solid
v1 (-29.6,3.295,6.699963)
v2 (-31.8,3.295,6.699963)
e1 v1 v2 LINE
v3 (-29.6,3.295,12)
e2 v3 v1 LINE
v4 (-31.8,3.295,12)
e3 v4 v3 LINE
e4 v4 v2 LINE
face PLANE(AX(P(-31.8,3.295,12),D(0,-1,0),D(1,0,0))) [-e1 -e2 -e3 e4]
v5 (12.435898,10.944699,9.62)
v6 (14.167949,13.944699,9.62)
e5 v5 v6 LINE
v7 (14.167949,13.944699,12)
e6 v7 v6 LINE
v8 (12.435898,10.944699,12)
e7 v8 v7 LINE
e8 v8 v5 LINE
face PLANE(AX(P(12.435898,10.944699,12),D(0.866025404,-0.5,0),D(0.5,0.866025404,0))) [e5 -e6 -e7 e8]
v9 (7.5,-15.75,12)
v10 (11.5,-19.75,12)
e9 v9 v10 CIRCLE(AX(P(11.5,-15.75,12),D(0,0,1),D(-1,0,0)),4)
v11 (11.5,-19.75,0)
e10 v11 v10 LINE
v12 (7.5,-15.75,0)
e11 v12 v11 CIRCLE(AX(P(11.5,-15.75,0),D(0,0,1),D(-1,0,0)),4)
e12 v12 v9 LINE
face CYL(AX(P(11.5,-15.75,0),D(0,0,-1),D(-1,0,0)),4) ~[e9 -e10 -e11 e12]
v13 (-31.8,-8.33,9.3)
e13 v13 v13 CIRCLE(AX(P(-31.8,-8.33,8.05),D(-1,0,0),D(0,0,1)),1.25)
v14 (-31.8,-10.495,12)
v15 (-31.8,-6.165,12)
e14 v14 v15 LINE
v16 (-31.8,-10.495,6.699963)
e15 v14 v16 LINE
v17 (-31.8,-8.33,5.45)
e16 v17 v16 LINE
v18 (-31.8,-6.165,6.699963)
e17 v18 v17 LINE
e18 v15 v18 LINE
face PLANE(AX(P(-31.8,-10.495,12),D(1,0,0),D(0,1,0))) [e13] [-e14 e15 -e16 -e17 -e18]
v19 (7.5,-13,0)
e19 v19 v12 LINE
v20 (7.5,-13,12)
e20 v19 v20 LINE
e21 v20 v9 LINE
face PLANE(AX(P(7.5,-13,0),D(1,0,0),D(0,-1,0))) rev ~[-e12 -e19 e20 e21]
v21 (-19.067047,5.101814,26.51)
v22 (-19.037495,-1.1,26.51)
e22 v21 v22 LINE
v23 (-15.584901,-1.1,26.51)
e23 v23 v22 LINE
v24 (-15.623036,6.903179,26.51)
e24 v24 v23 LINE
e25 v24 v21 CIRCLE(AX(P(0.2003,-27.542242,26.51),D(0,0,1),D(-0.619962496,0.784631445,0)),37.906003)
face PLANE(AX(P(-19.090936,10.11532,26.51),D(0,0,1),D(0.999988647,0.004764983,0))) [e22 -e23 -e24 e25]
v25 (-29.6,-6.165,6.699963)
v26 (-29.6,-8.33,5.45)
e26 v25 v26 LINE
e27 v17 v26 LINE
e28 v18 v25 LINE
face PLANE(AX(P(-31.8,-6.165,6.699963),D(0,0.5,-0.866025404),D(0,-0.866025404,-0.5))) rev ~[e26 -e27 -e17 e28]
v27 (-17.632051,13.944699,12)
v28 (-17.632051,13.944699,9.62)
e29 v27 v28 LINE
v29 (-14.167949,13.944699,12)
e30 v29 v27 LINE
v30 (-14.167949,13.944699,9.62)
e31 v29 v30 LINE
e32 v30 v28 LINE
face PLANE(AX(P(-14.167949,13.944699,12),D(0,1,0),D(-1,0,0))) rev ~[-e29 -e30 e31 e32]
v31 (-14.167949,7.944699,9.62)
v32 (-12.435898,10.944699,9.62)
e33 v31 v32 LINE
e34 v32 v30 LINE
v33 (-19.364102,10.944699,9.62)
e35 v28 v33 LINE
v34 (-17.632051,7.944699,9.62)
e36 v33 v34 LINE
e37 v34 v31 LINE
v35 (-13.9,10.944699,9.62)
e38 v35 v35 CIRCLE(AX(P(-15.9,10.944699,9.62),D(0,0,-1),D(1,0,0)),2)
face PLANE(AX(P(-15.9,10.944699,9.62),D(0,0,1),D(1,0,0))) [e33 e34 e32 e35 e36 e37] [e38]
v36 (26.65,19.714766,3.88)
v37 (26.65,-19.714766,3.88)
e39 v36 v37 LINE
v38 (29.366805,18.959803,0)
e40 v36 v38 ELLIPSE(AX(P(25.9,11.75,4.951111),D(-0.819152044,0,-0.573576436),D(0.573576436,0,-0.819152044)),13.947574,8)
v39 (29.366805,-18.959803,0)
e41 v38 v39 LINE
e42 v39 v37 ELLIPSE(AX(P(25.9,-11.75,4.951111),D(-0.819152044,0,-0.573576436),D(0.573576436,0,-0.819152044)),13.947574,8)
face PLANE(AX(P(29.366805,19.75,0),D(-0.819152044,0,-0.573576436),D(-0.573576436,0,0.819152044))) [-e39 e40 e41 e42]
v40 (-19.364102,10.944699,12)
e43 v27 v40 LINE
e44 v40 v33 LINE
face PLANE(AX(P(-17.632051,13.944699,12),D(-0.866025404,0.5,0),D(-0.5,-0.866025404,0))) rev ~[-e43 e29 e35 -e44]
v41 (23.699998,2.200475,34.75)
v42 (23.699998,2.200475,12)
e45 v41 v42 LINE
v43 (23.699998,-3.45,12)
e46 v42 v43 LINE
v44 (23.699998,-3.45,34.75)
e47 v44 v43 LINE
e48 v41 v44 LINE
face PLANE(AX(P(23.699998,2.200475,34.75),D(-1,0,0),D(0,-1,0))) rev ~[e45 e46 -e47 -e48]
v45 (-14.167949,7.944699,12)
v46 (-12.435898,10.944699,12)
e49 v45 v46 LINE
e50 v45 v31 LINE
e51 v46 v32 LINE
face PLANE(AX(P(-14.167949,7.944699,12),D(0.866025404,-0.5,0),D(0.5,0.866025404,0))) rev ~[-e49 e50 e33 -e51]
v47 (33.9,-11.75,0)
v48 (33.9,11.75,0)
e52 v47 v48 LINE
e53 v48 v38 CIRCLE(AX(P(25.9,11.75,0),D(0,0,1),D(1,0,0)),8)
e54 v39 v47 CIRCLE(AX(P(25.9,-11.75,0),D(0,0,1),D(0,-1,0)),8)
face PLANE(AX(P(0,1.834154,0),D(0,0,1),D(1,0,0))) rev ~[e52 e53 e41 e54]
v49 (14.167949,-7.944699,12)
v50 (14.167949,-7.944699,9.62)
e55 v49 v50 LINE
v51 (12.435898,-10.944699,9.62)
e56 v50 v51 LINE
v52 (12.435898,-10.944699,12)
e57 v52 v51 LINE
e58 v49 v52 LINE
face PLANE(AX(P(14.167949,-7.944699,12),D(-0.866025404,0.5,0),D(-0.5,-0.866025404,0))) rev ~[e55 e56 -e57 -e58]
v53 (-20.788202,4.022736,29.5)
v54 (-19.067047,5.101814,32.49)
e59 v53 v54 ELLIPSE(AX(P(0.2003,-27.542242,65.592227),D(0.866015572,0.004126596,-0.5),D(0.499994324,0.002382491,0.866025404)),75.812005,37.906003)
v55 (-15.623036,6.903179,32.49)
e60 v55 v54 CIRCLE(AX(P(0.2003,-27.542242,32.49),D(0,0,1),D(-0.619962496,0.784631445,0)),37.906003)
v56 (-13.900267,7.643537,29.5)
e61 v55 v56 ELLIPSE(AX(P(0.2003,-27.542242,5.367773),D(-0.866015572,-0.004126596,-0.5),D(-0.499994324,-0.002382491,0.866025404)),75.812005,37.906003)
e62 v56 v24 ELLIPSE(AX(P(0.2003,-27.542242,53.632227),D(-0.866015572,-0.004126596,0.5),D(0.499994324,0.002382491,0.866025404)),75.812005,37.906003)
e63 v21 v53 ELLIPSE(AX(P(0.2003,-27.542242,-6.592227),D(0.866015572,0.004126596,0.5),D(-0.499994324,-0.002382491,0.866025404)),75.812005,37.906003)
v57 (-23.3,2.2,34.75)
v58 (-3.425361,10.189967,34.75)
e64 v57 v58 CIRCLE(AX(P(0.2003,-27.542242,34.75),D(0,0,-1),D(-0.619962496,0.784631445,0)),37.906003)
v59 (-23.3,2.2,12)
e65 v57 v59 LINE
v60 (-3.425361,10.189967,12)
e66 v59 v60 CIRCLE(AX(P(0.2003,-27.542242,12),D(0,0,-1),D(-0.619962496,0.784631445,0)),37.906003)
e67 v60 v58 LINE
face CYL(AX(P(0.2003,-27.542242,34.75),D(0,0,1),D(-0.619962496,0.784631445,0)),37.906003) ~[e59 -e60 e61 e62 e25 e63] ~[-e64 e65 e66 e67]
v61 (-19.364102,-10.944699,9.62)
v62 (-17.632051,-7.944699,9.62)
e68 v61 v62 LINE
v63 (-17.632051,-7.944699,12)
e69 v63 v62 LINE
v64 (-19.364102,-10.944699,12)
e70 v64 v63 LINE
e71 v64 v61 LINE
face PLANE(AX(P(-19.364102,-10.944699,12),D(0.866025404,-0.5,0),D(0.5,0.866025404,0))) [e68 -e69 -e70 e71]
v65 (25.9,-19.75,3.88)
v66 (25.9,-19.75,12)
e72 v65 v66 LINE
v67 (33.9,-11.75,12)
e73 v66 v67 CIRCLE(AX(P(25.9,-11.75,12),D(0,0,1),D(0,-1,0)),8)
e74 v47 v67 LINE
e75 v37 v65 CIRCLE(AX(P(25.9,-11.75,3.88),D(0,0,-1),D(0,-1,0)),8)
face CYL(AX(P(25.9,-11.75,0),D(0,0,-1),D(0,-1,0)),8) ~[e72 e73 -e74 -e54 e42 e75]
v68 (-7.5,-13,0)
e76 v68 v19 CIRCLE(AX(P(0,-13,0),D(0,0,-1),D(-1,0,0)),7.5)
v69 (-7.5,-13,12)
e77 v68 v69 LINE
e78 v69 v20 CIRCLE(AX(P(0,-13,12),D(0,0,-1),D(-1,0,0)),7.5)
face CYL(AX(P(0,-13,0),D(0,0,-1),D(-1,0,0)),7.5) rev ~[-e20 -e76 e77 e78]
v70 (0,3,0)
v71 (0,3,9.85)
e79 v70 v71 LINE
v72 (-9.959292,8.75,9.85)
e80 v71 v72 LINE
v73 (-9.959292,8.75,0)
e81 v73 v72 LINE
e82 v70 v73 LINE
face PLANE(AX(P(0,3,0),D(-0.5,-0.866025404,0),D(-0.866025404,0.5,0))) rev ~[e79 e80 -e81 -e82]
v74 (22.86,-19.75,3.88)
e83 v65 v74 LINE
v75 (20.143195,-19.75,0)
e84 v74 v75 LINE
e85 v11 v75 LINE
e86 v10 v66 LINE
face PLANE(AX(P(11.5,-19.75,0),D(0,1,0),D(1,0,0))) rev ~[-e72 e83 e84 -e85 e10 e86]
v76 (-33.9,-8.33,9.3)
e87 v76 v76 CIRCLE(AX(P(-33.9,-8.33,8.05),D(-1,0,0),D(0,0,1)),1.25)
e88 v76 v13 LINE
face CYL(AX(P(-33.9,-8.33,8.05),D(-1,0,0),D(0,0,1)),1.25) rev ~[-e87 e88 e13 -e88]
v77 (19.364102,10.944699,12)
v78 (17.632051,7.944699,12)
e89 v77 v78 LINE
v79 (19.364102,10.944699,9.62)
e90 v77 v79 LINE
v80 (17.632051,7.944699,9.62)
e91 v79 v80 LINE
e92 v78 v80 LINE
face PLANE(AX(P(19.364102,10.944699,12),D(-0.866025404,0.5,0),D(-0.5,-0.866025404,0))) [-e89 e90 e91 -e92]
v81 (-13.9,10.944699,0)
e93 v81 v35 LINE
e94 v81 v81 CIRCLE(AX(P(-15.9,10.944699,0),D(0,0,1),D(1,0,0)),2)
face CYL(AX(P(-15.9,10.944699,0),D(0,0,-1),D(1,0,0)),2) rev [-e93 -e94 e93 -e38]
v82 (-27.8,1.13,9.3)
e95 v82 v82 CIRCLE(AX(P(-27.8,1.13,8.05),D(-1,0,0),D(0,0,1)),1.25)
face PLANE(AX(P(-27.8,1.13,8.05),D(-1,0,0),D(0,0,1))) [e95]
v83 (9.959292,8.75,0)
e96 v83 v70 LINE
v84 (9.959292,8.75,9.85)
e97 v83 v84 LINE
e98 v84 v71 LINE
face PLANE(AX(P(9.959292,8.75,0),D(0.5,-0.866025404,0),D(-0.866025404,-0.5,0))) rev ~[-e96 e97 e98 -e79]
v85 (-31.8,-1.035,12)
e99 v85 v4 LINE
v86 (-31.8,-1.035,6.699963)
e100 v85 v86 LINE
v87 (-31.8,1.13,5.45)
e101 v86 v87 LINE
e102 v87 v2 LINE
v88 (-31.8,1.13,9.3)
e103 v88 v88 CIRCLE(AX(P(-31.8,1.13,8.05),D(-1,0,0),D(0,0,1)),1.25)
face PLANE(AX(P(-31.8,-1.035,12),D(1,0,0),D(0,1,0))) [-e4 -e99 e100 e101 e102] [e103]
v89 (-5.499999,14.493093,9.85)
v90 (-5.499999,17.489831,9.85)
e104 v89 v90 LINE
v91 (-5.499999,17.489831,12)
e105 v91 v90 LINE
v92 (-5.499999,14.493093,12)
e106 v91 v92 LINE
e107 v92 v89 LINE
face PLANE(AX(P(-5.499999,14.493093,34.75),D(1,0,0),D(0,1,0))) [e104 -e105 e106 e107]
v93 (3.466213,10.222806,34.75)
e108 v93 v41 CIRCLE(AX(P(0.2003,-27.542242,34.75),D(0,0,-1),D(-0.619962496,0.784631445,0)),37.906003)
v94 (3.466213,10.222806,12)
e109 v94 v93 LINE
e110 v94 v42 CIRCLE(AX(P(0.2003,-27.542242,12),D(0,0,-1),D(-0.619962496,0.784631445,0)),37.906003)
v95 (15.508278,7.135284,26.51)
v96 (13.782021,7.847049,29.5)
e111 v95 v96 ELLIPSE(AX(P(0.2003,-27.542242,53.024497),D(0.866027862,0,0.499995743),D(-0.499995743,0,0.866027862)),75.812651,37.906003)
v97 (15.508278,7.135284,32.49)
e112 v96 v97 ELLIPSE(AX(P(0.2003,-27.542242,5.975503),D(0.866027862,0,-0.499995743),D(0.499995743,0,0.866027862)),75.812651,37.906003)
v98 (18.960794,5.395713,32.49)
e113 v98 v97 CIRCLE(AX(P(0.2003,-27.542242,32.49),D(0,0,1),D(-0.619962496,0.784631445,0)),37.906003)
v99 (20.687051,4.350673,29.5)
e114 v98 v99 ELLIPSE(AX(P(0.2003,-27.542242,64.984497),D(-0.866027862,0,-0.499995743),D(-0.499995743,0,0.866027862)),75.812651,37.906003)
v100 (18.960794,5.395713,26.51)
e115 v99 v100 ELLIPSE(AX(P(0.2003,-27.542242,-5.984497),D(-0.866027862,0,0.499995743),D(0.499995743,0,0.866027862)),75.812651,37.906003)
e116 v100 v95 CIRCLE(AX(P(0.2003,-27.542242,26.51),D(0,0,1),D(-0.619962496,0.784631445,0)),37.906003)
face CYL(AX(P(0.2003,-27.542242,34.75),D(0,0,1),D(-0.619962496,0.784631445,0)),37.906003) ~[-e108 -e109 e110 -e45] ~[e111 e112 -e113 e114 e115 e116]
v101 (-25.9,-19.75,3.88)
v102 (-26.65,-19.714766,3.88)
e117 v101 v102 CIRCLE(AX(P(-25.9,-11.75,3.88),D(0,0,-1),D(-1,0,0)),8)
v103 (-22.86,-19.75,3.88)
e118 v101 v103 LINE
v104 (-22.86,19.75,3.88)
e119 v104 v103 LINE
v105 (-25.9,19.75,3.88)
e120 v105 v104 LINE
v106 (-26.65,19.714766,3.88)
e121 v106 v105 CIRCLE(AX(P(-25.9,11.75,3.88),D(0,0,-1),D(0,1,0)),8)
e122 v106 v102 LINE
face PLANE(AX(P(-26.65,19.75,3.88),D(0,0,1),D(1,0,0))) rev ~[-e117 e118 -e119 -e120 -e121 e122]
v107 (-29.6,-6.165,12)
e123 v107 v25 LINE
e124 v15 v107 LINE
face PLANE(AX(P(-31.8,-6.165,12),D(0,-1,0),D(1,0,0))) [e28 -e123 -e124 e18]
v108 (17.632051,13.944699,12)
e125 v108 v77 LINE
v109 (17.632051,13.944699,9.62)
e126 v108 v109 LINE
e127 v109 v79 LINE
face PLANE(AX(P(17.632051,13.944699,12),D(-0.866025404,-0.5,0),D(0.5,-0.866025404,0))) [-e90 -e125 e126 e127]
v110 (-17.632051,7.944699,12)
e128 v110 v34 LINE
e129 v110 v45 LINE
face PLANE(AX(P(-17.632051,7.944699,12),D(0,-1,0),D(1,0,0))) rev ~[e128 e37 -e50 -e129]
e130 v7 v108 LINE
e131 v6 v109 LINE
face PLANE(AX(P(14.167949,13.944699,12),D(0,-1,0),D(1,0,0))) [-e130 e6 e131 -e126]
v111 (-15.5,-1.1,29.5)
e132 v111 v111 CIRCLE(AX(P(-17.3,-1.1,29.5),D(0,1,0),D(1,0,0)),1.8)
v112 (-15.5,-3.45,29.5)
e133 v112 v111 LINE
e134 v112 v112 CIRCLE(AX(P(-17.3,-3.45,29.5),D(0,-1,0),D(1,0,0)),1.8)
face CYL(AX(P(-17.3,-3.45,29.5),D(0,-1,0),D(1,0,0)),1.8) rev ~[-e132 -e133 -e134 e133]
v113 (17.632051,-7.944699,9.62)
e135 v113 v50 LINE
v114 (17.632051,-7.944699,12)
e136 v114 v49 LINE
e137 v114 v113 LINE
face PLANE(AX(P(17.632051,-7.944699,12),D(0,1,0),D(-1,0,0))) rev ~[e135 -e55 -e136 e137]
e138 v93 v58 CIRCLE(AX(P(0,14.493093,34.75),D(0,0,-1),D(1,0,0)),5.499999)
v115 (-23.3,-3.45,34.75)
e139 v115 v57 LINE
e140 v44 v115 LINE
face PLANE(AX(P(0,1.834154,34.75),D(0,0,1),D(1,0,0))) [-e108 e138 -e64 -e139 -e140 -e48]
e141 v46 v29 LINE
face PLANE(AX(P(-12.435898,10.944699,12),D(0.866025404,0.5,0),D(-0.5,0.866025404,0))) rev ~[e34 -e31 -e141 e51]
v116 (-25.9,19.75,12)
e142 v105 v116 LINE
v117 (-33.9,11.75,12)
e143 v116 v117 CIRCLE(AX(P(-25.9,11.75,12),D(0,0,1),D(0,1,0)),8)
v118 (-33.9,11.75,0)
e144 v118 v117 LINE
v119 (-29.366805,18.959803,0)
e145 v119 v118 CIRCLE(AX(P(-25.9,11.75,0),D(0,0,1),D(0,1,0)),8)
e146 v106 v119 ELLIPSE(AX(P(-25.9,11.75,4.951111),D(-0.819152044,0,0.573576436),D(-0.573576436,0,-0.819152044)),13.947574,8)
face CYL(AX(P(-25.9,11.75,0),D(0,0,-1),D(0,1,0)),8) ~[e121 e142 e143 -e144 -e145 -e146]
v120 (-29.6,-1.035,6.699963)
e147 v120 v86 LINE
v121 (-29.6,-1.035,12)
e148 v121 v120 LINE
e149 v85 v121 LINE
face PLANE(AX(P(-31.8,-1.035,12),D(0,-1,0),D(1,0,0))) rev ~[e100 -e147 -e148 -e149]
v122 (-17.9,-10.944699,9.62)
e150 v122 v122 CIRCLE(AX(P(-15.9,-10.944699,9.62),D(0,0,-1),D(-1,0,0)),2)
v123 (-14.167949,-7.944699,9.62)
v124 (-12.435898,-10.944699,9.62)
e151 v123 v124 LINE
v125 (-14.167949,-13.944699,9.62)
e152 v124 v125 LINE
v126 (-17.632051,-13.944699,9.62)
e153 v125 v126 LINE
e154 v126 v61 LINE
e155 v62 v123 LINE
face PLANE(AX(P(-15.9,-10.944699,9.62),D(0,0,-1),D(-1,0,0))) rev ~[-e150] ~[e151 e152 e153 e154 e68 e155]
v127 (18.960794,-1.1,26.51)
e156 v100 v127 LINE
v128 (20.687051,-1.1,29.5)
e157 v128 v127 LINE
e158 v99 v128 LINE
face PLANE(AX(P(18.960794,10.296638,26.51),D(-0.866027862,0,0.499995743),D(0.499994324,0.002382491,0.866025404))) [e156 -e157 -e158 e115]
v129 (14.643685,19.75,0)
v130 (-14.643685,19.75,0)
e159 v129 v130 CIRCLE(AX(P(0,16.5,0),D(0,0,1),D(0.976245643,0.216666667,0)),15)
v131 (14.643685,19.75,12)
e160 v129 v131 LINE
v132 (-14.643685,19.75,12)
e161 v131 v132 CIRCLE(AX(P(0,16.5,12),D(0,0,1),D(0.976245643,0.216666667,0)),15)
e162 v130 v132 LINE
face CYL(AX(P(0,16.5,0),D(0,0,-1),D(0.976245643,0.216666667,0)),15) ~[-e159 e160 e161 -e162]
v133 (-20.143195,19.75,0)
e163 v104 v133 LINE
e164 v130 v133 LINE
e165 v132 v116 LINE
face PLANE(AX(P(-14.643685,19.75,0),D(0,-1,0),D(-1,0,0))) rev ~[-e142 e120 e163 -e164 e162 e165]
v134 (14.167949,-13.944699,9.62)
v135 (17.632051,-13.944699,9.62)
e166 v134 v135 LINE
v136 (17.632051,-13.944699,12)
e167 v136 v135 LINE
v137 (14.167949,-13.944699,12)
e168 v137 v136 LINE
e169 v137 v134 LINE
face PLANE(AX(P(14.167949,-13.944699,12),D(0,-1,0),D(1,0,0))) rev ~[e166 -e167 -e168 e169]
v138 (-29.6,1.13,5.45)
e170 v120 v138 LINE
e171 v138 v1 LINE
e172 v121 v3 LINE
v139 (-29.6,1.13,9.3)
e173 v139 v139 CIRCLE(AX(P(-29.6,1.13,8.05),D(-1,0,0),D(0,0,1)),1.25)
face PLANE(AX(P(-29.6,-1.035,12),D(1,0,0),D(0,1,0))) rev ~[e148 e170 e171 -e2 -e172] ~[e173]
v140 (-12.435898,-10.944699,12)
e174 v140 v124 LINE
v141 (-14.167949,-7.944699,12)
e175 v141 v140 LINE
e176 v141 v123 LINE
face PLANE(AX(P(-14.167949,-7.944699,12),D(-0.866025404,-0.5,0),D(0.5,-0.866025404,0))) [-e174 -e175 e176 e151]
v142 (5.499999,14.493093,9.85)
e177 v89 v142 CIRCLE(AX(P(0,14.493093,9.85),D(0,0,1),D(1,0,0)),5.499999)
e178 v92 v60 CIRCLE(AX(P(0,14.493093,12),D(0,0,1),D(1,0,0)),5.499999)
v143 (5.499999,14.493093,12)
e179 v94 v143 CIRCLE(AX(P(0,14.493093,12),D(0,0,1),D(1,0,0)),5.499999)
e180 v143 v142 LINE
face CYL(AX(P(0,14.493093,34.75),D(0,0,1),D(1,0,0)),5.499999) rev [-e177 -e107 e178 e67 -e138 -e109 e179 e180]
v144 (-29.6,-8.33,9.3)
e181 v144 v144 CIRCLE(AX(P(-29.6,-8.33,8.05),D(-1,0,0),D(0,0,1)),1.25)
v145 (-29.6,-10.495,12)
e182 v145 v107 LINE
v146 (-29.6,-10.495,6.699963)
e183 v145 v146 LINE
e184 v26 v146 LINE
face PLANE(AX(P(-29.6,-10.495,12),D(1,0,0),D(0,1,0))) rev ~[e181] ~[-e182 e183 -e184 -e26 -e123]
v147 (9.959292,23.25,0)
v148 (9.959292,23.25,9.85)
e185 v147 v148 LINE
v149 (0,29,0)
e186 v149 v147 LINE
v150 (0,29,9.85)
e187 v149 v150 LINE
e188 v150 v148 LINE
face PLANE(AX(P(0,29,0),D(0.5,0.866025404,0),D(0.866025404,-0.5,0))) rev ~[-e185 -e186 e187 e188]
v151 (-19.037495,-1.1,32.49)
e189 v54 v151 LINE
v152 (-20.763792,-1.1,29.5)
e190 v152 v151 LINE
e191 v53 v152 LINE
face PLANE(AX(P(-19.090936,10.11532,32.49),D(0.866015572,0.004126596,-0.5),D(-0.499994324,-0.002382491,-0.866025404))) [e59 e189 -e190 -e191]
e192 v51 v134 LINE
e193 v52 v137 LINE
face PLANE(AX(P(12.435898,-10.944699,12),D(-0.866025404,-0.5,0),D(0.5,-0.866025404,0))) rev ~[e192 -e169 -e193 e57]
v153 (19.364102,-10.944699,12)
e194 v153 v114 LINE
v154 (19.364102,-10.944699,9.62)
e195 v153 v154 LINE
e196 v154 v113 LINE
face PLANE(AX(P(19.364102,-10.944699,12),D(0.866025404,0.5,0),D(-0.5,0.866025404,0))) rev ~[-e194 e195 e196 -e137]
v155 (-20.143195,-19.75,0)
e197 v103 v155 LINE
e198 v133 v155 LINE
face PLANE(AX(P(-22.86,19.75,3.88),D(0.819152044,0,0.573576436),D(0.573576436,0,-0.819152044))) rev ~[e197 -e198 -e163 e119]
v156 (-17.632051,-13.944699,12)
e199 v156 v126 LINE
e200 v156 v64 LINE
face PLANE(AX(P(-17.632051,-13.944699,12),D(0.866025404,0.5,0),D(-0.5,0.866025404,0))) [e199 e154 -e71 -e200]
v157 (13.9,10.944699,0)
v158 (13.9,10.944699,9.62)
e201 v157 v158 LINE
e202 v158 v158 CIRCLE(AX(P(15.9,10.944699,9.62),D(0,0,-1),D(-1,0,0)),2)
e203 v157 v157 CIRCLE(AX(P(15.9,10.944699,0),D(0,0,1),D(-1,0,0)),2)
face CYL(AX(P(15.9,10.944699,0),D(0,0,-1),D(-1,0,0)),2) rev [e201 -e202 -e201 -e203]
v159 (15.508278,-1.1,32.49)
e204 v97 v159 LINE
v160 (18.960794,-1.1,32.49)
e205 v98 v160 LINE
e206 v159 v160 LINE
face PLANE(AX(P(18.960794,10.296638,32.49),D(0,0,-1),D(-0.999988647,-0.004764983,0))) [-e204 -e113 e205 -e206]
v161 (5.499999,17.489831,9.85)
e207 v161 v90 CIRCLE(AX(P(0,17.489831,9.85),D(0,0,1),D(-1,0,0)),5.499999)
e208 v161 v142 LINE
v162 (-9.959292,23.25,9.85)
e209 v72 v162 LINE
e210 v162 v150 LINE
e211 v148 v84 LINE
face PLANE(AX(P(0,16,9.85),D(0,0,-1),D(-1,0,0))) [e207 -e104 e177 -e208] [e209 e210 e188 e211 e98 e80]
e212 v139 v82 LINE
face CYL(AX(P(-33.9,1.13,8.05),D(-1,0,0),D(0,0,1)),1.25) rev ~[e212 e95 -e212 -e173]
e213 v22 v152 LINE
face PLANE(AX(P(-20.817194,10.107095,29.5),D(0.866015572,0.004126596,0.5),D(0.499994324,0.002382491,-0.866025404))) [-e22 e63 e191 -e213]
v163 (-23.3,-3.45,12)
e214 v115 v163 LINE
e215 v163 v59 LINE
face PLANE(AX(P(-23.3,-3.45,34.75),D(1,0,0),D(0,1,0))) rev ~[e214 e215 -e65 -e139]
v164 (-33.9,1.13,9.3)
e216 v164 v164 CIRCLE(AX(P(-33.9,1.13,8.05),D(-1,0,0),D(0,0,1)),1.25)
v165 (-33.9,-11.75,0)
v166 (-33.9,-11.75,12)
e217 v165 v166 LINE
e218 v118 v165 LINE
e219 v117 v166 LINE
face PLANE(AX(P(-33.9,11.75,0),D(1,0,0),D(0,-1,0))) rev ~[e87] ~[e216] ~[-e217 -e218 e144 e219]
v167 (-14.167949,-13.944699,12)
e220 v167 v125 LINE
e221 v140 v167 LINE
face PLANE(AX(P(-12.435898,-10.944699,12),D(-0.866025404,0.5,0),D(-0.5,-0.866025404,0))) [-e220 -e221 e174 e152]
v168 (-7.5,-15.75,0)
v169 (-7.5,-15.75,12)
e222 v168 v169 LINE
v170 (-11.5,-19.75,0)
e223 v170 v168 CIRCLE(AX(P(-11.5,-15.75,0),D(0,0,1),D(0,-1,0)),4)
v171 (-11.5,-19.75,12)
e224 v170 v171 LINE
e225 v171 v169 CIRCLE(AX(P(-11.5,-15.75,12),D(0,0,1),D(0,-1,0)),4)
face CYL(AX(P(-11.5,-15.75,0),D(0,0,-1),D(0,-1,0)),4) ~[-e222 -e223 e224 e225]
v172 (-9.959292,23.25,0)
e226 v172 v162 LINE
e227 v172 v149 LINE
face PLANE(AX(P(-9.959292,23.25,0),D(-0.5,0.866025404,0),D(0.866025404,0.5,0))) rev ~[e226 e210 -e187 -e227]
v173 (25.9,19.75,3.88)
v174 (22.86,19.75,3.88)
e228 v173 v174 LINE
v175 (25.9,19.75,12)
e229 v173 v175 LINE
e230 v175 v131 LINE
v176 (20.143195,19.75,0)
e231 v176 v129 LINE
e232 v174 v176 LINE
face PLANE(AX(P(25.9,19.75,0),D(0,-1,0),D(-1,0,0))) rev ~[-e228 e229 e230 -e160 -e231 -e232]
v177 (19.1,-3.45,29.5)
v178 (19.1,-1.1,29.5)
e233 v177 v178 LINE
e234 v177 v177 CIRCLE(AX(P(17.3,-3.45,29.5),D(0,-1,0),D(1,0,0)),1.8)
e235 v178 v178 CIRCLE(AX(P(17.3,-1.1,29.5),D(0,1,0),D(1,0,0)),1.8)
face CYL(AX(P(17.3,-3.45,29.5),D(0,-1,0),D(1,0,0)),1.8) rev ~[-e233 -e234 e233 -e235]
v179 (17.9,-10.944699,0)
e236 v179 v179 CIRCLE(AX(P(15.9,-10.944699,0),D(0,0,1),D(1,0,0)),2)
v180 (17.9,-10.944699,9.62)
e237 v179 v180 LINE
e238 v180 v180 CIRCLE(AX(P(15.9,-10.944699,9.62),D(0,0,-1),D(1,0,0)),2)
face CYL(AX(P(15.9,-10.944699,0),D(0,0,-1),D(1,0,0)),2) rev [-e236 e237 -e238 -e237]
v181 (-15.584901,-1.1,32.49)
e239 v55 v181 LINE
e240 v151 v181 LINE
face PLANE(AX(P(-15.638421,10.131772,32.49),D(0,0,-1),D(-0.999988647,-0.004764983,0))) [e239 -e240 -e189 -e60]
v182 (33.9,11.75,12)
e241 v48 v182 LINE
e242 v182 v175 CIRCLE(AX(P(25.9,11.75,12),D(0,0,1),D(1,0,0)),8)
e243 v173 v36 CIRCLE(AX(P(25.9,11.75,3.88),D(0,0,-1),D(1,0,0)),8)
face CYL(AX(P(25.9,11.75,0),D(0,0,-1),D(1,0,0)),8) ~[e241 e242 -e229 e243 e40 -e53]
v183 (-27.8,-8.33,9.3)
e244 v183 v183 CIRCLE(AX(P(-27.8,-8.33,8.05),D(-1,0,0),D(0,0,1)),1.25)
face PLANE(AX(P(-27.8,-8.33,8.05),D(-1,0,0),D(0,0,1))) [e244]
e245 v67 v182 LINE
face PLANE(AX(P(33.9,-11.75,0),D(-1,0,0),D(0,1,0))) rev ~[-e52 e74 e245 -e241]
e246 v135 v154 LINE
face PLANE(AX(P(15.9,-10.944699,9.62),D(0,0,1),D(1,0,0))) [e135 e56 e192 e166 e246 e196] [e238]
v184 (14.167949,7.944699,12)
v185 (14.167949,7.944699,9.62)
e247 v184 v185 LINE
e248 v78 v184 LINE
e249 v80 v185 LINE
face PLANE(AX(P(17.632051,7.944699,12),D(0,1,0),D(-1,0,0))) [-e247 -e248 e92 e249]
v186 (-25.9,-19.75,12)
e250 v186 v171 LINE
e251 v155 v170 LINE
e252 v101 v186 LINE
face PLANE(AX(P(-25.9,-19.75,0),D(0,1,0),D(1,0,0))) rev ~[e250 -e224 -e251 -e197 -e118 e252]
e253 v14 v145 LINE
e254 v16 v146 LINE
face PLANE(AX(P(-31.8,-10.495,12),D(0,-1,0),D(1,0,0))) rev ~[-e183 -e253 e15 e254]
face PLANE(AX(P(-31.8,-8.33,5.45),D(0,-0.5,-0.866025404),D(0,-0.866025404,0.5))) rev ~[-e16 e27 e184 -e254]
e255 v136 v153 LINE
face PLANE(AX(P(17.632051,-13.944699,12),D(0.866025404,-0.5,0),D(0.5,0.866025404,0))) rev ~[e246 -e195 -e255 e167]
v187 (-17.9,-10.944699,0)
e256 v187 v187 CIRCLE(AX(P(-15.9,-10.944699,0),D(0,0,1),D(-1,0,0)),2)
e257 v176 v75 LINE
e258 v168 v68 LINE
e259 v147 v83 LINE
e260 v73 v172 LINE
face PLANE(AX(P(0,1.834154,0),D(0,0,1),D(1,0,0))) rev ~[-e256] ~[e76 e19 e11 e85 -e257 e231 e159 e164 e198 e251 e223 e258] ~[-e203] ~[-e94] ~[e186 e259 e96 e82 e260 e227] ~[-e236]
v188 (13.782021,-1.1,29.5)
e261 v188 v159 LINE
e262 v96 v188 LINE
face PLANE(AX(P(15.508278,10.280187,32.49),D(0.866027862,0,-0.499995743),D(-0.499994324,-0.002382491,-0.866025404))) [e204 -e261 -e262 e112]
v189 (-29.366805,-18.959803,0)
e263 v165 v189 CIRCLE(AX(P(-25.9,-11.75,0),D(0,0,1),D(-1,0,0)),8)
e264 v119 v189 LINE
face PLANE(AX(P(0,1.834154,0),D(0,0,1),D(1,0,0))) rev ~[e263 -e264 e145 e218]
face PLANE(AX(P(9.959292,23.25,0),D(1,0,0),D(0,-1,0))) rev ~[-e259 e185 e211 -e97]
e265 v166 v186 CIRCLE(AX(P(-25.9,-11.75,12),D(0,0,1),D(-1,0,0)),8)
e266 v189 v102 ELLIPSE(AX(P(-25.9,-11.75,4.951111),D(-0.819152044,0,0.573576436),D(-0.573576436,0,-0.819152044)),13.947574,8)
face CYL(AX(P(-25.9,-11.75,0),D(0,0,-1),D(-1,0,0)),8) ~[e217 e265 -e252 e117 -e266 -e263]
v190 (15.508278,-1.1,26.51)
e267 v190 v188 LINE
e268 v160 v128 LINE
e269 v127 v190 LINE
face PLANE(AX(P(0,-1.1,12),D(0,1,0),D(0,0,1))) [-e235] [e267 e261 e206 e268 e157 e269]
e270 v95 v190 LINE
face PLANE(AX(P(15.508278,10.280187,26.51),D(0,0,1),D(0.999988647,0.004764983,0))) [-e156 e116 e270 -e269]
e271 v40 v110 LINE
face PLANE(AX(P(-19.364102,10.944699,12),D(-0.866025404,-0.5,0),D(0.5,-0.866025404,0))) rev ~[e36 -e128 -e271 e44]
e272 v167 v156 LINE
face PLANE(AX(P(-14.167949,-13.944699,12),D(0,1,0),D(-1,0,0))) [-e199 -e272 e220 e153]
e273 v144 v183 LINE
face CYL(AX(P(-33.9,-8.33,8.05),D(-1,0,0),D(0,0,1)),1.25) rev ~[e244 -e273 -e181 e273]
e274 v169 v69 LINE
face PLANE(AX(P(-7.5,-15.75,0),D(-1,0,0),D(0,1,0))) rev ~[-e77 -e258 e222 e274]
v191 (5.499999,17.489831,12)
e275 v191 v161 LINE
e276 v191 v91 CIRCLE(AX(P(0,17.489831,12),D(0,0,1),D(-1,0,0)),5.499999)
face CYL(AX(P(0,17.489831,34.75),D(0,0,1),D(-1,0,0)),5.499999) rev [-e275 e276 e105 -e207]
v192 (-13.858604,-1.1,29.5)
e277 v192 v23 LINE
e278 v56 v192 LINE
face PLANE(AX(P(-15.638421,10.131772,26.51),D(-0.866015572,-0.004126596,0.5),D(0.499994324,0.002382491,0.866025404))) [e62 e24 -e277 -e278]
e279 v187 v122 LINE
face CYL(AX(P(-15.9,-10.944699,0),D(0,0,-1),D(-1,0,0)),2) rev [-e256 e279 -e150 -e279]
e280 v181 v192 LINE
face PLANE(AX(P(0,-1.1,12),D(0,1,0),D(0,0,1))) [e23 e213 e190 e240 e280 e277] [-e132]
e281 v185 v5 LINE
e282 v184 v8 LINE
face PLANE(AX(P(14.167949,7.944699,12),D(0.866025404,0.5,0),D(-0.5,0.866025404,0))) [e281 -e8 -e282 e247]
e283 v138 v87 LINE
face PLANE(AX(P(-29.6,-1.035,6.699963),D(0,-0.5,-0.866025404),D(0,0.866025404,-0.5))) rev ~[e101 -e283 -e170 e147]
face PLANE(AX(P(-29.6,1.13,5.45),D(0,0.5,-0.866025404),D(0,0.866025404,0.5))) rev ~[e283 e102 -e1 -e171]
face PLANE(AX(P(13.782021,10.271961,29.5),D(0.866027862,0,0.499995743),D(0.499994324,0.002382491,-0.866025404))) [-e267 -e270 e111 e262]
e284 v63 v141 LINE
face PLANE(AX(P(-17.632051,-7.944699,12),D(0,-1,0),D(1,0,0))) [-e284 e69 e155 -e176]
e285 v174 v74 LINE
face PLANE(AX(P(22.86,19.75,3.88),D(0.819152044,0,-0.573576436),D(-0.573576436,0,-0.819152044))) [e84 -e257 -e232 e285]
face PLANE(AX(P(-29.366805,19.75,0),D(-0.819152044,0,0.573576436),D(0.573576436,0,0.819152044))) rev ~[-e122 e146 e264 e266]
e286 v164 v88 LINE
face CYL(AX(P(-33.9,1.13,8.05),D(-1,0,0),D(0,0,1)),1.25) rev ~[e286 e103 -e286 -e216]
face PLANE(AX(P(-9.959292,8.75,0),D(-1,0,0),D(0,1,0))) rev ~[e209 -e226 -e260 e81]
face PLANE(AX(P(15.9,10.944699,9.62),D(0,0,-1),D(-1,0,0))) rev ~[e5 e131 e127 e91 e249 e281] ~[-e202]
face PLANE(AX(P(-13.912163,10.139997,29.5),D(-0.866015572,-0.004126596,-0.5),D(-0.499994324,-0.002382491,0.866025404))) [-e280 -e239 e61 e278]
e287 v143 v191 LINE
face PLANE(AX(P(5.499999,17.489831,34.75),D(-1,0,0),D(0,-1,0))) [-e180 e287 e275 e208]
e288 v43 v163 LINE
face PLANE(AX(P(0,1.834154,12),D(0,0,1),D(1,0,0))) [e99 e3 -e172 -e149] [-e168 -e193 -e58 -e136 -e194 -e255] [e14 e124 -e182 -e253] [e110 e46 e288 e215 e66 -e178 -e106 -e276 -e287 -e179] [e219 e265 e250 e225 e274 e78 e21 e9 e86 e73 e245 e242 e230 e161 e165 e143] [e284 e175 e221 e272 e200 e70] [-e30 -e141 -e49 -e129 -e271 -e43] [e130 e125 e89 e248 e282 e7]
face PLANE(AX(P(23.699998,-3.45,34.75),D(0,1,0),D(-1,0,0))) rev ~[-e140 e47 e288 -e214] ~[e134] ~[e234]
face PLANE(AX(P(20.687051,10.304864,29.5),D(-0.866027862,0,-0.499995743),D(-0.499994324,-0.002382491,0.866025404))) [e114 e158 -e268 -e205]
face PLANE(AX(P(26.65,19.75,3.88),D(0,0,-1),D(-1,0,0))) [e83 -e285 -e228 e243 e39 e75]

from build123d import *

# Parameters (mm, degrees)
SKETCH1_R               = 2
BOSS_EXTRUDE4_DEPTH     = 34.75
SKETCH5_R               = 2
CUT_EXTRUDE2_DEPTH      = 22.75
CUT_EXTRUDE3_REACH      = 59.871
CUT_EXTRUDE4_DEPTH      = 63.586120666
CUT_EXTRUDE5_REACH      = 61.819
CUT_EXTRUDE5_END_RADIUS = 37.906002519
SKETCH10_R              = 1.8
CUT_EXTRUDE6_REACH      = 59.074
SKETCH11_RX             = 1.8
SKETCH11_RY             = 1.799979565
CUT_EXTRUDE7_REACH      = 59.075
SKETCH11_4_RX           = 1.8
SKETCH11_4_RY           = 1.799979565
CUT_EXTRUDE8_DEPTH      = 9.85
SKETCH15_R              = 2
CUT_EXTRUDE9_DEPTH      = 2.38
SKETCH16_R              = 1.25
CUT_EXTRUDE10_DEPTH     = 6.1
SKETCH17_W              = 2.2
SKETCH17_H              = 4.33
CUT_EXTRUDE11_DEPTH     = 6.55
BOSS_EXTRUDE5_DEPTH     = 2.2
BOSS_EXTRUDE6_DEPTH     = 2.2


with BuildPart() as part:
    # Sketch1 → Boss-Extrude4 (new body)
    with BuildSketch(Plane.XY):
        with BuildLine():
            Line((-25.9, -19.75), (-11.5, -19.75))
            ThreePointArc((-11.5, -19.75), (-8.671572875, -18.578427125), (-7.5, -15.75))
            Line((-7.5, -15.75), (-7.5, -13))
            ThreePointArc((-7.5, -13), (0, -5.5), (7.5, -13))
            Line((7.5, -13), (7.5, -15.75))
            ThreePointArc((7.5, -15.75), (8.671572875, -18.578427125), (11.5, -19.75))
            Line((11.5, -19.75), (25.9, -19.75))
            ThreePointArc((25.9, -19.75), (31.556854249, -17.406854249), (33.9, -11.75))
            Line((33.9, -11.75), (33.9, 11.75))
            ThreePointArc((33.9, 11.75), (31.556854249, 17.406854249), (25.9, 19.75))
            Line((25.9, 19.75), (14.643684646, 19.75))
            ThreePointArc((14.643684646, 19.75), (0, 31.5), (-14.643684646, 19.75))
            Line((-14.643684646, 19.75), (-25.9, 19.75))
            ThreePointArc((-25.9, 19.75), (-31.556854249, 17.406854249), (-33.9, 11.75))
            Line((-33.9, 11.75), (-33.9, -11.75))
            ThreePointArc((-33.9, -11.75), (-31.556854249, -17.406854249), (-25.9, -19.75))
        make_face()
        with Locations((-15.9, 10.944699181)):
            Circle(SKETCH1_R, mode=Mode.SUBTRACT)
        with Locations(Location((-15.9, -10.944699181, 0), (0, 0, 180))):
            Circle(SKETCH1_R, mode=Mode.SUBTRACT)
        with Locations((15.9, -10.944699181)):
            Circle(SKETCH1_R, mode=Mode.SUBTRACT)
        with Locations(Location((15.9, 10.944699181, 0), (0, 0, 180))):
            Circle(SKETCH1_R, mode=Mode.SUBTRACT)
    extrude(amount=BOSS_EXTRUDE4_DEPTH)

    # Sketch5 → Cut-Extrude2 (cut)
    with BuildSketch(Plane.XY.offset(34.75)):
        with BuildLine():
            Line((33.9, -11.75), (33.9, 11.75))
            ThreePointArc((33.9, 11.75), (31.556854249, 17.406854249), (25.9, 19.75))
            Line((25.9, 19.75), (14.643684646, 19.75))
            ThreePointArc((14.643684646, 19.75), (0, 31.5), (-14.643684646, 19.75))
            Line((-14.643684646, 19.75), (-25.9, 19.75))
            ThreePointArc((-25.9, 19.75), (-31.556854249, 17.406854249), (-33.9, 11.75))
            Line((-33.9, 11.75), (-33.9, -11.75))
            ThreePointArc((-33.9, -11.75), (-31.556854249, -17.406854249), (-25.9, -19.75))
            Line((-25.9, -19.75), (-11.5, -19.75))
            ThreePointArc((-11.5, -19.75), (-8.671572875, -18.578427125), (-7.5, -15.75))
            Line((-7.5, -15.75), (-7.5, -13))
            ThreePointArc((-7.5, -13), (0, -5.5), (7.5, -13))
            Line((7.5, -13), (7.5, -15.75))
            ThreePointArc((7.5, -15.75), (8.671572875, -18.578427125), (11.5, -19.75))
            Line((11.5, -19.75), (25.9, -19.75))
            ThreePointArc((25.9, -19.75), (31.556854249, -17.406854249), (33.9, -11.75))
        make_face()
        with Locations((-15.9, 10.944699181)):
            Circle(SKETCH5_R, mode=Mode.SUBTRACT)
        with BuildLine():
            Line((-23.3, -3.45), (-23.3, 2.199999619))
            ThreePointArc((-23.3, 2.199999619), (0.199916465, 10.363760615), (23.699998093, 2.200475068))
            Line((23.699998093, 2.200475068), (23.699998093, -3.45))
            Line((23.699998093, -3.45), (-23.3, -3.45))
        make_face(mode=Mode.SUBTRACT)
    extrude(amount=-CUT_EXTRUDE2_DEPTH, mode=Mode.SUBTRACT)

    # Sketch6 → Cut-Extrude3 (cut, up to next)
    with BuildSketch(Plane.XY.offset(34.75), mode=Mode.PRIVATE) as cut_extrude3_sk1:
        with BuildLine():
            Line((-5.499999046, 14.493093188), (-5.499999046, 17.489830849))
            ThreePointArc((-5.499999046, 17.489830849), (0, 22.989829895), (5.499999046, 17.489830849))
            Line((5.499999046, 17.489830849), (5.499999046, 14.493093188))
            ThreePointArc((5.499999046, 14.493093188), (0, 8.993094142), (-5.499999046, 14.493093188))
        make_face()
    cut_extrude3_tool1 = extrude(cut_extrude3_sk1.sketch, amount=-CUT_EXTRUDE3_REACH, mode=Mode.PRIVATE) & part.part
    add(cut_extrude3_tool1.solids().sort_by_distance((0, 15.991462, 34.75))[0], mode=Mode.SUBTRACT)

    # Sketch9 → Cut-Extrude4 (cut, through all)
    with BuildSketch(Plane(origin=(0, 19.75, 0), x_dir=(1, 0, 0), z_dir=(0, 1, 0))):
        Polygon((-29.366805248, 0), (-26.65, -3.88), (-22.86, -3.88), (-20.143194752, 0), align=None)
        Polygon((22.86, -3.88), (20.143194752, 0), (29.366805248, 0), (26.65, -3.88), align=None)
    extrude(amount=-CUT_EXTRUDE4_DEPTH, mode=Mode.SUBTRACT)

    # Cut-Extrude5: up to this cylinder (the profile starts inside it)
    cut_extrude5_end = Plane(origin=(0.20029992, -27.542241902, 29.5), z_dir=(0, 0, 1)) * Cylinder(CUT_EXTRUDE5_END_RADIUS, 200.450005039, mode=Mode.PRIVATE)
    # Sketch10 → Cut-Extrude5 (cut, up to the surface)
    with BuildSketch(Plane.XZ.offset(3.45), mode=Mode.PRIVATE) as cut_extrude5_sk1:
        with Locations((-17.3, 29.5)):
            Circle(SKETCH10_R)
    cut_extrude5_tool1 = extrude(cut_extrude5_sk1.sketch, amount=-CUT_EXTRUDE5_REACH, mode=Mode.PRIVATE) & cut_extrude5_end
    add(cut_extrude5_tool1.solids().sort_by_distance((-17.3, -3.45, 29.5))[0], mode=Mode.SUBTRACT)
    # Sketch10 → Cut-Extrude5 (cut, up to the surface)
    with BuildSketch(Plane.XZ.offset(3.45), mode=Mode.PRIVATE) as cut_extrude5_sk2:
        with Locations((17.3, 29.5)):
            Circle(SKETCH10_R)
    cut_extrude5_tool2 = extrude(cut_extrude5_sk2.sketch, amount=-CUT_EXTRUDE5_REACH, mode=Mode.PRIVATE) & cut_extrude5_end
    add(cut_extrude5_tool2.solids().sort_by_distance((17.3, -3.45, 29.5))[0], mode=Mode.SUBTRACT)

    # Cut-Extrude6: up to this plane
    cut_extrude6_end = Plane(origin=(0, -1.1, 12), z_dir=(0, 1, 0))
    # Sketch11 → Cut-Extrude6 (cut, up to the surface)
    with BuildSketch(Plane(origin=(-0.04863224, 10.206057531, 0), x_dir=(-0.999988647405363, -0.004764982727443531, 0), z_dir=(0.00476498272744353, -0.9999886474053629, 0)), mode=Mode.PRIVATE) as cut_extrude6_sk1:
        Polygon((13.863688181, -29.5), (15.589965486, -32.49), (19.042520095, -32.49), (20.7687974, -29.5), (19.042520095, -26.51), (15.589965486, -26.51), align=None)
        with Locations(Location((17.316242791, -29.5), (0, 0, -90))):
            Ellipse(SKETCH11_RX, SKETCH11_RY, mode=Mode.SUBTRACT)
    cut_extrude6_tool1 = split(extrude(cut_extrude6_sk1.sketch, amount=CUT_EXTRUDE6_REACH, mode=Mode.PRIVATE), bisect_by=cut_extrude6_end, keep=Keep.BOTH, mode=Mode.PRIVATE)
    add(cut_extrude6_tool1.solids().sort_by_distance((-14.854399, 10.135508, 30.949327))[0], mode=Mode.SUBTRACT)
    # Sketch11 → Cut-Extrude6 (cut, up to the surface)
    with BuildSketch(Plane(origin=(-0.04863224, 10.206057531, 0), x_dir=(-0.999988647405363, -0.004764982727443531, 0), z_dir=(0.00476498272744353, -0.9999886474053629, 0)), mode=Mode.PRIVATE) as cut_extrude6_sk2:
        with Locations(Location((17.316242791, -29.5), (0, 0, -90))):
            Ellipse(SKETCH11_RX, SKETCH11_RY)
    cut_extrude6_tool2 = split(extrude(cut_extrude6_sk2.sketch, amount=CUT_EXTRUDE6_REACH, mode=Mode.PRIVATE), bisect_by=cut_extrude6_end, keep=Keep.BOTH, mode=Mode.PRIVATE)
    add(cut_extrude6_tool2.solids().sort_by_distance((-17.364678, 10.123546, 29.5))[0], mode=Mode.SUBTRACT)

    # Cut-Extrude7: up to this plane
    cut_extrude7_end = Plane(origin=(0, -1.1, 12), z_dir=(0, 1, 0))
    # Sketch11<4> → Cut-Extrude7 (cut, up to the surface)
    with BuildSketch(Plane(origin=(-0.04863224, 10.206057531, 0), x_dir=(-0.999988647405363, -0.004764982727443531, 0), z_dir=(0.00476498272744353, -0.9999886474053629, 0)), mode=Mode.PRIVATE) as cut_extrude7_sk1:
        Polygon((-13.8308098, -29.5), (-15.557087105, -26.51), (-19.009641715, -26.51), (-20.735919019, -29.5), (-19.009641715, -32.49), (-15.557087105, -32.49), align=None)
        with Locations(Location((-17.28336441, -29.5), (0, 0, -90))):
            Ellipse(SKETCH11_4_RX, SKETCH11_4_RY, mode=Mode.SUBTRACT)
    cut_extrude7_tool1 = split(extrude(cut_extrude7_sk1.sketch, amount=CUT_EXTRUDE7_REACH, dir=(0, -1, 0), mode=Mode.PRIVATE), bisect_by=cut_extrude7_end, keep=Keep.BOTH, mode=Mode.PRIVATE)
    add(cut_extrude7_tool1.solids().sort_by_distance((14.724256, 10.276451, 28.050673))[0], mode=Mode.SUBTRACT)
    # Sketch11<4> → Cut-Extrude7 (cut, up to the surface)
    with BuildSketch(Plane(origin=(-0.04863224, 10.206057531, 0), x_dir=(-0.999988647405363, -0.004764982727443531, 0), z_dir=(0.00476498272744353, -0.9999886474053629, 0)), mode=Mode.PRIVATE) as cut_extrude7_sk2:
        with Locations(Location((-17.28336441, -29.5), (0, 0, -90))):
            Ellipse(SKETCH11_4_RX, SKETCH11_4_RY)
    cut_extrude7_tool2 = split(extrude(cut_extrude7_sk2.sketch, amount=CUT_EXTRUDE7_REACH, dir=(0, -1, 0), mode=Mode.PRIVATE), bisect_by=cut_extrude7_end, keep=Keep.BOTH, mode=Mode.PRIVATE)
    add(cut_extrude7_tool2.solids().sort_by_distance((17.234536, 10.288412, 29.5))[0], mode=Mode.SUBTRACT)

    # Sketch14 → Cut-Extrude8 (cut)
    with BuildSketch(Plane(origin=(0, 0, 0), x_dir=(-1, 0, 0), z_dir=(0, 0, -1))):
        Polygon((0, 3), (9.959292144, 8.75), (9.959292144, 23.25), (0, 29), (-9.959292144, 23.25), (-9.959292144, 8.75), align=None)
    extrude(amount=-CUT_EXTRUDE8_DEPTH, mode=Mode.SUBTRACT)

    # Sketch15 → Cut-Extrude9 (cut)
    with BuildSketch(Plane.XY.offset(12)):
        Polygon((-14.167949192, 7.944699181), (-12.435898385, 10.944699181), (-14.167949192, 13.944699181), (-17.632050808, 13.944699181), (-19.364101615, 10.944699181), (-17.632050808, 7.944699181), align=None)
        with Locations((-15.9, 10.944699181)):
            Circle(SKETCH15_R, mode=Mode.SUBTRACT)
        with Locations((-15.9, 10.944699181)):
            Circle(SKETCH15_R)
        Polygon((14.167949192, 13.944699181), (17.632050808, 13.944699181), (19.364101615, 10.944699181), (17.632050808, 7.944699181), (14.167949192, 7.944699181), (12.435898385, 10.944699181), align=None)
        with Locations(Location((15.9, 10.944699181, 0), (0, 0, 180))):
            Circle(SKETCH15_R, mode=Mode.SUBTRACT)
        with Locations(Location((15.9, 10.944699181, 0), (0, 0, 180))):
            Circle(SKETCH15_R)
        Polygon((12.435898385, -10.944699181), (14.167949192, -13.944699181), (17.632050808, -13.944699181), (19.364101615, -10.944699181), (17.632050808, -7.944699181), (14.167949192, -7.944699181), align=None)
        with Locations((15.9, -10.944699181)):
            Circle(SKETCH15_R, mode=Mode.SUBTRACT)
        with Locations((15.9, -10.944699181)):
            Circle(SKETCH15_R)
        Polygon((-17.632050808, -13.944699181), (-19.364101615, -10.944699181), (-17.632050808, -7.944699181), (-14.167949192, -7.944699181), (-12.435898385, -10.944699181), (-14.167949192, -13.944699181), align=None)
        with Locations(Location((-15.9, -10.944699181, 0), (0, 0, 180))):
            Circle(SKETCH15_R, mode=Mode.SUBTRACT)
        with Locations(Location((-15.9, -10.944699181, 0), (0, 0, 180))):
            Circle(SKETCH15_R)
    extrude(amount=-CUT_EXTRUDE9_DEPTH, mode=Mode.SUBTRACT)

    # Sketch16 → Cut-Extrude10 (cut)
    with BuildSketch(Plane.ZY.offset(33.9)):
        with Locations((8.05, 1.13)):
            Circle(SKETCH16_R)
        with Locations((8.05, -8.33)):
            Circle(SKETCH16_R)
    extrude(amount=-CUT_EXTRUDE10_DEPTH, mode=Mode.SUBTRACT)

    # Sketch17 → Cut-Extrude11 (cut)
    with BuildSketch(Plane.XY.offset(12)):
        with Locations((-30.7, 1.13)):
            Rectangle(SKETCH17_W, SKETCH17_H)
        with Locations((-30.7, -8.33)):
            Rectangle(SKETCH17_W, SKETCH17_H)
    extrude(amount=-CUT_EXTRUDE11_DEPTH, mode=Mode.SUBTRACT)

    # Sketch18 → Boss-Extrude5 (add)
    with BuildSketch(Plane.ZY.offset(29.6)):
        Polygon((5.45, 3.295), (5.45, 1.13), (6.699963333, 3.295), align=None)
        Polygon((5.45, -1.035), (6.699963333, -1.035), (5.45, 1.13), align=None)
    extrude(amount=BOSS_EXTRUDE5_DEPTH)

    # Sketch21 → Boss-Extrude6 (add)
    with BuildSketch(Plane(origin=(-31.8, 0, 0), x_dir=(0, 0, -1), z_dir=(1, 0, 0))):
        Polygon((-5.45, -6.165), (-6.699963333, -6.165), (-5.45, -8.33), align=None)
        Polygon((-5.45, -10.495), (-5.45, -8.33), (-6.699963333, -10.495), align=None)
    extrude(amount=BOSS_EXTRUDE6_DEPTH)


solid = part.part
